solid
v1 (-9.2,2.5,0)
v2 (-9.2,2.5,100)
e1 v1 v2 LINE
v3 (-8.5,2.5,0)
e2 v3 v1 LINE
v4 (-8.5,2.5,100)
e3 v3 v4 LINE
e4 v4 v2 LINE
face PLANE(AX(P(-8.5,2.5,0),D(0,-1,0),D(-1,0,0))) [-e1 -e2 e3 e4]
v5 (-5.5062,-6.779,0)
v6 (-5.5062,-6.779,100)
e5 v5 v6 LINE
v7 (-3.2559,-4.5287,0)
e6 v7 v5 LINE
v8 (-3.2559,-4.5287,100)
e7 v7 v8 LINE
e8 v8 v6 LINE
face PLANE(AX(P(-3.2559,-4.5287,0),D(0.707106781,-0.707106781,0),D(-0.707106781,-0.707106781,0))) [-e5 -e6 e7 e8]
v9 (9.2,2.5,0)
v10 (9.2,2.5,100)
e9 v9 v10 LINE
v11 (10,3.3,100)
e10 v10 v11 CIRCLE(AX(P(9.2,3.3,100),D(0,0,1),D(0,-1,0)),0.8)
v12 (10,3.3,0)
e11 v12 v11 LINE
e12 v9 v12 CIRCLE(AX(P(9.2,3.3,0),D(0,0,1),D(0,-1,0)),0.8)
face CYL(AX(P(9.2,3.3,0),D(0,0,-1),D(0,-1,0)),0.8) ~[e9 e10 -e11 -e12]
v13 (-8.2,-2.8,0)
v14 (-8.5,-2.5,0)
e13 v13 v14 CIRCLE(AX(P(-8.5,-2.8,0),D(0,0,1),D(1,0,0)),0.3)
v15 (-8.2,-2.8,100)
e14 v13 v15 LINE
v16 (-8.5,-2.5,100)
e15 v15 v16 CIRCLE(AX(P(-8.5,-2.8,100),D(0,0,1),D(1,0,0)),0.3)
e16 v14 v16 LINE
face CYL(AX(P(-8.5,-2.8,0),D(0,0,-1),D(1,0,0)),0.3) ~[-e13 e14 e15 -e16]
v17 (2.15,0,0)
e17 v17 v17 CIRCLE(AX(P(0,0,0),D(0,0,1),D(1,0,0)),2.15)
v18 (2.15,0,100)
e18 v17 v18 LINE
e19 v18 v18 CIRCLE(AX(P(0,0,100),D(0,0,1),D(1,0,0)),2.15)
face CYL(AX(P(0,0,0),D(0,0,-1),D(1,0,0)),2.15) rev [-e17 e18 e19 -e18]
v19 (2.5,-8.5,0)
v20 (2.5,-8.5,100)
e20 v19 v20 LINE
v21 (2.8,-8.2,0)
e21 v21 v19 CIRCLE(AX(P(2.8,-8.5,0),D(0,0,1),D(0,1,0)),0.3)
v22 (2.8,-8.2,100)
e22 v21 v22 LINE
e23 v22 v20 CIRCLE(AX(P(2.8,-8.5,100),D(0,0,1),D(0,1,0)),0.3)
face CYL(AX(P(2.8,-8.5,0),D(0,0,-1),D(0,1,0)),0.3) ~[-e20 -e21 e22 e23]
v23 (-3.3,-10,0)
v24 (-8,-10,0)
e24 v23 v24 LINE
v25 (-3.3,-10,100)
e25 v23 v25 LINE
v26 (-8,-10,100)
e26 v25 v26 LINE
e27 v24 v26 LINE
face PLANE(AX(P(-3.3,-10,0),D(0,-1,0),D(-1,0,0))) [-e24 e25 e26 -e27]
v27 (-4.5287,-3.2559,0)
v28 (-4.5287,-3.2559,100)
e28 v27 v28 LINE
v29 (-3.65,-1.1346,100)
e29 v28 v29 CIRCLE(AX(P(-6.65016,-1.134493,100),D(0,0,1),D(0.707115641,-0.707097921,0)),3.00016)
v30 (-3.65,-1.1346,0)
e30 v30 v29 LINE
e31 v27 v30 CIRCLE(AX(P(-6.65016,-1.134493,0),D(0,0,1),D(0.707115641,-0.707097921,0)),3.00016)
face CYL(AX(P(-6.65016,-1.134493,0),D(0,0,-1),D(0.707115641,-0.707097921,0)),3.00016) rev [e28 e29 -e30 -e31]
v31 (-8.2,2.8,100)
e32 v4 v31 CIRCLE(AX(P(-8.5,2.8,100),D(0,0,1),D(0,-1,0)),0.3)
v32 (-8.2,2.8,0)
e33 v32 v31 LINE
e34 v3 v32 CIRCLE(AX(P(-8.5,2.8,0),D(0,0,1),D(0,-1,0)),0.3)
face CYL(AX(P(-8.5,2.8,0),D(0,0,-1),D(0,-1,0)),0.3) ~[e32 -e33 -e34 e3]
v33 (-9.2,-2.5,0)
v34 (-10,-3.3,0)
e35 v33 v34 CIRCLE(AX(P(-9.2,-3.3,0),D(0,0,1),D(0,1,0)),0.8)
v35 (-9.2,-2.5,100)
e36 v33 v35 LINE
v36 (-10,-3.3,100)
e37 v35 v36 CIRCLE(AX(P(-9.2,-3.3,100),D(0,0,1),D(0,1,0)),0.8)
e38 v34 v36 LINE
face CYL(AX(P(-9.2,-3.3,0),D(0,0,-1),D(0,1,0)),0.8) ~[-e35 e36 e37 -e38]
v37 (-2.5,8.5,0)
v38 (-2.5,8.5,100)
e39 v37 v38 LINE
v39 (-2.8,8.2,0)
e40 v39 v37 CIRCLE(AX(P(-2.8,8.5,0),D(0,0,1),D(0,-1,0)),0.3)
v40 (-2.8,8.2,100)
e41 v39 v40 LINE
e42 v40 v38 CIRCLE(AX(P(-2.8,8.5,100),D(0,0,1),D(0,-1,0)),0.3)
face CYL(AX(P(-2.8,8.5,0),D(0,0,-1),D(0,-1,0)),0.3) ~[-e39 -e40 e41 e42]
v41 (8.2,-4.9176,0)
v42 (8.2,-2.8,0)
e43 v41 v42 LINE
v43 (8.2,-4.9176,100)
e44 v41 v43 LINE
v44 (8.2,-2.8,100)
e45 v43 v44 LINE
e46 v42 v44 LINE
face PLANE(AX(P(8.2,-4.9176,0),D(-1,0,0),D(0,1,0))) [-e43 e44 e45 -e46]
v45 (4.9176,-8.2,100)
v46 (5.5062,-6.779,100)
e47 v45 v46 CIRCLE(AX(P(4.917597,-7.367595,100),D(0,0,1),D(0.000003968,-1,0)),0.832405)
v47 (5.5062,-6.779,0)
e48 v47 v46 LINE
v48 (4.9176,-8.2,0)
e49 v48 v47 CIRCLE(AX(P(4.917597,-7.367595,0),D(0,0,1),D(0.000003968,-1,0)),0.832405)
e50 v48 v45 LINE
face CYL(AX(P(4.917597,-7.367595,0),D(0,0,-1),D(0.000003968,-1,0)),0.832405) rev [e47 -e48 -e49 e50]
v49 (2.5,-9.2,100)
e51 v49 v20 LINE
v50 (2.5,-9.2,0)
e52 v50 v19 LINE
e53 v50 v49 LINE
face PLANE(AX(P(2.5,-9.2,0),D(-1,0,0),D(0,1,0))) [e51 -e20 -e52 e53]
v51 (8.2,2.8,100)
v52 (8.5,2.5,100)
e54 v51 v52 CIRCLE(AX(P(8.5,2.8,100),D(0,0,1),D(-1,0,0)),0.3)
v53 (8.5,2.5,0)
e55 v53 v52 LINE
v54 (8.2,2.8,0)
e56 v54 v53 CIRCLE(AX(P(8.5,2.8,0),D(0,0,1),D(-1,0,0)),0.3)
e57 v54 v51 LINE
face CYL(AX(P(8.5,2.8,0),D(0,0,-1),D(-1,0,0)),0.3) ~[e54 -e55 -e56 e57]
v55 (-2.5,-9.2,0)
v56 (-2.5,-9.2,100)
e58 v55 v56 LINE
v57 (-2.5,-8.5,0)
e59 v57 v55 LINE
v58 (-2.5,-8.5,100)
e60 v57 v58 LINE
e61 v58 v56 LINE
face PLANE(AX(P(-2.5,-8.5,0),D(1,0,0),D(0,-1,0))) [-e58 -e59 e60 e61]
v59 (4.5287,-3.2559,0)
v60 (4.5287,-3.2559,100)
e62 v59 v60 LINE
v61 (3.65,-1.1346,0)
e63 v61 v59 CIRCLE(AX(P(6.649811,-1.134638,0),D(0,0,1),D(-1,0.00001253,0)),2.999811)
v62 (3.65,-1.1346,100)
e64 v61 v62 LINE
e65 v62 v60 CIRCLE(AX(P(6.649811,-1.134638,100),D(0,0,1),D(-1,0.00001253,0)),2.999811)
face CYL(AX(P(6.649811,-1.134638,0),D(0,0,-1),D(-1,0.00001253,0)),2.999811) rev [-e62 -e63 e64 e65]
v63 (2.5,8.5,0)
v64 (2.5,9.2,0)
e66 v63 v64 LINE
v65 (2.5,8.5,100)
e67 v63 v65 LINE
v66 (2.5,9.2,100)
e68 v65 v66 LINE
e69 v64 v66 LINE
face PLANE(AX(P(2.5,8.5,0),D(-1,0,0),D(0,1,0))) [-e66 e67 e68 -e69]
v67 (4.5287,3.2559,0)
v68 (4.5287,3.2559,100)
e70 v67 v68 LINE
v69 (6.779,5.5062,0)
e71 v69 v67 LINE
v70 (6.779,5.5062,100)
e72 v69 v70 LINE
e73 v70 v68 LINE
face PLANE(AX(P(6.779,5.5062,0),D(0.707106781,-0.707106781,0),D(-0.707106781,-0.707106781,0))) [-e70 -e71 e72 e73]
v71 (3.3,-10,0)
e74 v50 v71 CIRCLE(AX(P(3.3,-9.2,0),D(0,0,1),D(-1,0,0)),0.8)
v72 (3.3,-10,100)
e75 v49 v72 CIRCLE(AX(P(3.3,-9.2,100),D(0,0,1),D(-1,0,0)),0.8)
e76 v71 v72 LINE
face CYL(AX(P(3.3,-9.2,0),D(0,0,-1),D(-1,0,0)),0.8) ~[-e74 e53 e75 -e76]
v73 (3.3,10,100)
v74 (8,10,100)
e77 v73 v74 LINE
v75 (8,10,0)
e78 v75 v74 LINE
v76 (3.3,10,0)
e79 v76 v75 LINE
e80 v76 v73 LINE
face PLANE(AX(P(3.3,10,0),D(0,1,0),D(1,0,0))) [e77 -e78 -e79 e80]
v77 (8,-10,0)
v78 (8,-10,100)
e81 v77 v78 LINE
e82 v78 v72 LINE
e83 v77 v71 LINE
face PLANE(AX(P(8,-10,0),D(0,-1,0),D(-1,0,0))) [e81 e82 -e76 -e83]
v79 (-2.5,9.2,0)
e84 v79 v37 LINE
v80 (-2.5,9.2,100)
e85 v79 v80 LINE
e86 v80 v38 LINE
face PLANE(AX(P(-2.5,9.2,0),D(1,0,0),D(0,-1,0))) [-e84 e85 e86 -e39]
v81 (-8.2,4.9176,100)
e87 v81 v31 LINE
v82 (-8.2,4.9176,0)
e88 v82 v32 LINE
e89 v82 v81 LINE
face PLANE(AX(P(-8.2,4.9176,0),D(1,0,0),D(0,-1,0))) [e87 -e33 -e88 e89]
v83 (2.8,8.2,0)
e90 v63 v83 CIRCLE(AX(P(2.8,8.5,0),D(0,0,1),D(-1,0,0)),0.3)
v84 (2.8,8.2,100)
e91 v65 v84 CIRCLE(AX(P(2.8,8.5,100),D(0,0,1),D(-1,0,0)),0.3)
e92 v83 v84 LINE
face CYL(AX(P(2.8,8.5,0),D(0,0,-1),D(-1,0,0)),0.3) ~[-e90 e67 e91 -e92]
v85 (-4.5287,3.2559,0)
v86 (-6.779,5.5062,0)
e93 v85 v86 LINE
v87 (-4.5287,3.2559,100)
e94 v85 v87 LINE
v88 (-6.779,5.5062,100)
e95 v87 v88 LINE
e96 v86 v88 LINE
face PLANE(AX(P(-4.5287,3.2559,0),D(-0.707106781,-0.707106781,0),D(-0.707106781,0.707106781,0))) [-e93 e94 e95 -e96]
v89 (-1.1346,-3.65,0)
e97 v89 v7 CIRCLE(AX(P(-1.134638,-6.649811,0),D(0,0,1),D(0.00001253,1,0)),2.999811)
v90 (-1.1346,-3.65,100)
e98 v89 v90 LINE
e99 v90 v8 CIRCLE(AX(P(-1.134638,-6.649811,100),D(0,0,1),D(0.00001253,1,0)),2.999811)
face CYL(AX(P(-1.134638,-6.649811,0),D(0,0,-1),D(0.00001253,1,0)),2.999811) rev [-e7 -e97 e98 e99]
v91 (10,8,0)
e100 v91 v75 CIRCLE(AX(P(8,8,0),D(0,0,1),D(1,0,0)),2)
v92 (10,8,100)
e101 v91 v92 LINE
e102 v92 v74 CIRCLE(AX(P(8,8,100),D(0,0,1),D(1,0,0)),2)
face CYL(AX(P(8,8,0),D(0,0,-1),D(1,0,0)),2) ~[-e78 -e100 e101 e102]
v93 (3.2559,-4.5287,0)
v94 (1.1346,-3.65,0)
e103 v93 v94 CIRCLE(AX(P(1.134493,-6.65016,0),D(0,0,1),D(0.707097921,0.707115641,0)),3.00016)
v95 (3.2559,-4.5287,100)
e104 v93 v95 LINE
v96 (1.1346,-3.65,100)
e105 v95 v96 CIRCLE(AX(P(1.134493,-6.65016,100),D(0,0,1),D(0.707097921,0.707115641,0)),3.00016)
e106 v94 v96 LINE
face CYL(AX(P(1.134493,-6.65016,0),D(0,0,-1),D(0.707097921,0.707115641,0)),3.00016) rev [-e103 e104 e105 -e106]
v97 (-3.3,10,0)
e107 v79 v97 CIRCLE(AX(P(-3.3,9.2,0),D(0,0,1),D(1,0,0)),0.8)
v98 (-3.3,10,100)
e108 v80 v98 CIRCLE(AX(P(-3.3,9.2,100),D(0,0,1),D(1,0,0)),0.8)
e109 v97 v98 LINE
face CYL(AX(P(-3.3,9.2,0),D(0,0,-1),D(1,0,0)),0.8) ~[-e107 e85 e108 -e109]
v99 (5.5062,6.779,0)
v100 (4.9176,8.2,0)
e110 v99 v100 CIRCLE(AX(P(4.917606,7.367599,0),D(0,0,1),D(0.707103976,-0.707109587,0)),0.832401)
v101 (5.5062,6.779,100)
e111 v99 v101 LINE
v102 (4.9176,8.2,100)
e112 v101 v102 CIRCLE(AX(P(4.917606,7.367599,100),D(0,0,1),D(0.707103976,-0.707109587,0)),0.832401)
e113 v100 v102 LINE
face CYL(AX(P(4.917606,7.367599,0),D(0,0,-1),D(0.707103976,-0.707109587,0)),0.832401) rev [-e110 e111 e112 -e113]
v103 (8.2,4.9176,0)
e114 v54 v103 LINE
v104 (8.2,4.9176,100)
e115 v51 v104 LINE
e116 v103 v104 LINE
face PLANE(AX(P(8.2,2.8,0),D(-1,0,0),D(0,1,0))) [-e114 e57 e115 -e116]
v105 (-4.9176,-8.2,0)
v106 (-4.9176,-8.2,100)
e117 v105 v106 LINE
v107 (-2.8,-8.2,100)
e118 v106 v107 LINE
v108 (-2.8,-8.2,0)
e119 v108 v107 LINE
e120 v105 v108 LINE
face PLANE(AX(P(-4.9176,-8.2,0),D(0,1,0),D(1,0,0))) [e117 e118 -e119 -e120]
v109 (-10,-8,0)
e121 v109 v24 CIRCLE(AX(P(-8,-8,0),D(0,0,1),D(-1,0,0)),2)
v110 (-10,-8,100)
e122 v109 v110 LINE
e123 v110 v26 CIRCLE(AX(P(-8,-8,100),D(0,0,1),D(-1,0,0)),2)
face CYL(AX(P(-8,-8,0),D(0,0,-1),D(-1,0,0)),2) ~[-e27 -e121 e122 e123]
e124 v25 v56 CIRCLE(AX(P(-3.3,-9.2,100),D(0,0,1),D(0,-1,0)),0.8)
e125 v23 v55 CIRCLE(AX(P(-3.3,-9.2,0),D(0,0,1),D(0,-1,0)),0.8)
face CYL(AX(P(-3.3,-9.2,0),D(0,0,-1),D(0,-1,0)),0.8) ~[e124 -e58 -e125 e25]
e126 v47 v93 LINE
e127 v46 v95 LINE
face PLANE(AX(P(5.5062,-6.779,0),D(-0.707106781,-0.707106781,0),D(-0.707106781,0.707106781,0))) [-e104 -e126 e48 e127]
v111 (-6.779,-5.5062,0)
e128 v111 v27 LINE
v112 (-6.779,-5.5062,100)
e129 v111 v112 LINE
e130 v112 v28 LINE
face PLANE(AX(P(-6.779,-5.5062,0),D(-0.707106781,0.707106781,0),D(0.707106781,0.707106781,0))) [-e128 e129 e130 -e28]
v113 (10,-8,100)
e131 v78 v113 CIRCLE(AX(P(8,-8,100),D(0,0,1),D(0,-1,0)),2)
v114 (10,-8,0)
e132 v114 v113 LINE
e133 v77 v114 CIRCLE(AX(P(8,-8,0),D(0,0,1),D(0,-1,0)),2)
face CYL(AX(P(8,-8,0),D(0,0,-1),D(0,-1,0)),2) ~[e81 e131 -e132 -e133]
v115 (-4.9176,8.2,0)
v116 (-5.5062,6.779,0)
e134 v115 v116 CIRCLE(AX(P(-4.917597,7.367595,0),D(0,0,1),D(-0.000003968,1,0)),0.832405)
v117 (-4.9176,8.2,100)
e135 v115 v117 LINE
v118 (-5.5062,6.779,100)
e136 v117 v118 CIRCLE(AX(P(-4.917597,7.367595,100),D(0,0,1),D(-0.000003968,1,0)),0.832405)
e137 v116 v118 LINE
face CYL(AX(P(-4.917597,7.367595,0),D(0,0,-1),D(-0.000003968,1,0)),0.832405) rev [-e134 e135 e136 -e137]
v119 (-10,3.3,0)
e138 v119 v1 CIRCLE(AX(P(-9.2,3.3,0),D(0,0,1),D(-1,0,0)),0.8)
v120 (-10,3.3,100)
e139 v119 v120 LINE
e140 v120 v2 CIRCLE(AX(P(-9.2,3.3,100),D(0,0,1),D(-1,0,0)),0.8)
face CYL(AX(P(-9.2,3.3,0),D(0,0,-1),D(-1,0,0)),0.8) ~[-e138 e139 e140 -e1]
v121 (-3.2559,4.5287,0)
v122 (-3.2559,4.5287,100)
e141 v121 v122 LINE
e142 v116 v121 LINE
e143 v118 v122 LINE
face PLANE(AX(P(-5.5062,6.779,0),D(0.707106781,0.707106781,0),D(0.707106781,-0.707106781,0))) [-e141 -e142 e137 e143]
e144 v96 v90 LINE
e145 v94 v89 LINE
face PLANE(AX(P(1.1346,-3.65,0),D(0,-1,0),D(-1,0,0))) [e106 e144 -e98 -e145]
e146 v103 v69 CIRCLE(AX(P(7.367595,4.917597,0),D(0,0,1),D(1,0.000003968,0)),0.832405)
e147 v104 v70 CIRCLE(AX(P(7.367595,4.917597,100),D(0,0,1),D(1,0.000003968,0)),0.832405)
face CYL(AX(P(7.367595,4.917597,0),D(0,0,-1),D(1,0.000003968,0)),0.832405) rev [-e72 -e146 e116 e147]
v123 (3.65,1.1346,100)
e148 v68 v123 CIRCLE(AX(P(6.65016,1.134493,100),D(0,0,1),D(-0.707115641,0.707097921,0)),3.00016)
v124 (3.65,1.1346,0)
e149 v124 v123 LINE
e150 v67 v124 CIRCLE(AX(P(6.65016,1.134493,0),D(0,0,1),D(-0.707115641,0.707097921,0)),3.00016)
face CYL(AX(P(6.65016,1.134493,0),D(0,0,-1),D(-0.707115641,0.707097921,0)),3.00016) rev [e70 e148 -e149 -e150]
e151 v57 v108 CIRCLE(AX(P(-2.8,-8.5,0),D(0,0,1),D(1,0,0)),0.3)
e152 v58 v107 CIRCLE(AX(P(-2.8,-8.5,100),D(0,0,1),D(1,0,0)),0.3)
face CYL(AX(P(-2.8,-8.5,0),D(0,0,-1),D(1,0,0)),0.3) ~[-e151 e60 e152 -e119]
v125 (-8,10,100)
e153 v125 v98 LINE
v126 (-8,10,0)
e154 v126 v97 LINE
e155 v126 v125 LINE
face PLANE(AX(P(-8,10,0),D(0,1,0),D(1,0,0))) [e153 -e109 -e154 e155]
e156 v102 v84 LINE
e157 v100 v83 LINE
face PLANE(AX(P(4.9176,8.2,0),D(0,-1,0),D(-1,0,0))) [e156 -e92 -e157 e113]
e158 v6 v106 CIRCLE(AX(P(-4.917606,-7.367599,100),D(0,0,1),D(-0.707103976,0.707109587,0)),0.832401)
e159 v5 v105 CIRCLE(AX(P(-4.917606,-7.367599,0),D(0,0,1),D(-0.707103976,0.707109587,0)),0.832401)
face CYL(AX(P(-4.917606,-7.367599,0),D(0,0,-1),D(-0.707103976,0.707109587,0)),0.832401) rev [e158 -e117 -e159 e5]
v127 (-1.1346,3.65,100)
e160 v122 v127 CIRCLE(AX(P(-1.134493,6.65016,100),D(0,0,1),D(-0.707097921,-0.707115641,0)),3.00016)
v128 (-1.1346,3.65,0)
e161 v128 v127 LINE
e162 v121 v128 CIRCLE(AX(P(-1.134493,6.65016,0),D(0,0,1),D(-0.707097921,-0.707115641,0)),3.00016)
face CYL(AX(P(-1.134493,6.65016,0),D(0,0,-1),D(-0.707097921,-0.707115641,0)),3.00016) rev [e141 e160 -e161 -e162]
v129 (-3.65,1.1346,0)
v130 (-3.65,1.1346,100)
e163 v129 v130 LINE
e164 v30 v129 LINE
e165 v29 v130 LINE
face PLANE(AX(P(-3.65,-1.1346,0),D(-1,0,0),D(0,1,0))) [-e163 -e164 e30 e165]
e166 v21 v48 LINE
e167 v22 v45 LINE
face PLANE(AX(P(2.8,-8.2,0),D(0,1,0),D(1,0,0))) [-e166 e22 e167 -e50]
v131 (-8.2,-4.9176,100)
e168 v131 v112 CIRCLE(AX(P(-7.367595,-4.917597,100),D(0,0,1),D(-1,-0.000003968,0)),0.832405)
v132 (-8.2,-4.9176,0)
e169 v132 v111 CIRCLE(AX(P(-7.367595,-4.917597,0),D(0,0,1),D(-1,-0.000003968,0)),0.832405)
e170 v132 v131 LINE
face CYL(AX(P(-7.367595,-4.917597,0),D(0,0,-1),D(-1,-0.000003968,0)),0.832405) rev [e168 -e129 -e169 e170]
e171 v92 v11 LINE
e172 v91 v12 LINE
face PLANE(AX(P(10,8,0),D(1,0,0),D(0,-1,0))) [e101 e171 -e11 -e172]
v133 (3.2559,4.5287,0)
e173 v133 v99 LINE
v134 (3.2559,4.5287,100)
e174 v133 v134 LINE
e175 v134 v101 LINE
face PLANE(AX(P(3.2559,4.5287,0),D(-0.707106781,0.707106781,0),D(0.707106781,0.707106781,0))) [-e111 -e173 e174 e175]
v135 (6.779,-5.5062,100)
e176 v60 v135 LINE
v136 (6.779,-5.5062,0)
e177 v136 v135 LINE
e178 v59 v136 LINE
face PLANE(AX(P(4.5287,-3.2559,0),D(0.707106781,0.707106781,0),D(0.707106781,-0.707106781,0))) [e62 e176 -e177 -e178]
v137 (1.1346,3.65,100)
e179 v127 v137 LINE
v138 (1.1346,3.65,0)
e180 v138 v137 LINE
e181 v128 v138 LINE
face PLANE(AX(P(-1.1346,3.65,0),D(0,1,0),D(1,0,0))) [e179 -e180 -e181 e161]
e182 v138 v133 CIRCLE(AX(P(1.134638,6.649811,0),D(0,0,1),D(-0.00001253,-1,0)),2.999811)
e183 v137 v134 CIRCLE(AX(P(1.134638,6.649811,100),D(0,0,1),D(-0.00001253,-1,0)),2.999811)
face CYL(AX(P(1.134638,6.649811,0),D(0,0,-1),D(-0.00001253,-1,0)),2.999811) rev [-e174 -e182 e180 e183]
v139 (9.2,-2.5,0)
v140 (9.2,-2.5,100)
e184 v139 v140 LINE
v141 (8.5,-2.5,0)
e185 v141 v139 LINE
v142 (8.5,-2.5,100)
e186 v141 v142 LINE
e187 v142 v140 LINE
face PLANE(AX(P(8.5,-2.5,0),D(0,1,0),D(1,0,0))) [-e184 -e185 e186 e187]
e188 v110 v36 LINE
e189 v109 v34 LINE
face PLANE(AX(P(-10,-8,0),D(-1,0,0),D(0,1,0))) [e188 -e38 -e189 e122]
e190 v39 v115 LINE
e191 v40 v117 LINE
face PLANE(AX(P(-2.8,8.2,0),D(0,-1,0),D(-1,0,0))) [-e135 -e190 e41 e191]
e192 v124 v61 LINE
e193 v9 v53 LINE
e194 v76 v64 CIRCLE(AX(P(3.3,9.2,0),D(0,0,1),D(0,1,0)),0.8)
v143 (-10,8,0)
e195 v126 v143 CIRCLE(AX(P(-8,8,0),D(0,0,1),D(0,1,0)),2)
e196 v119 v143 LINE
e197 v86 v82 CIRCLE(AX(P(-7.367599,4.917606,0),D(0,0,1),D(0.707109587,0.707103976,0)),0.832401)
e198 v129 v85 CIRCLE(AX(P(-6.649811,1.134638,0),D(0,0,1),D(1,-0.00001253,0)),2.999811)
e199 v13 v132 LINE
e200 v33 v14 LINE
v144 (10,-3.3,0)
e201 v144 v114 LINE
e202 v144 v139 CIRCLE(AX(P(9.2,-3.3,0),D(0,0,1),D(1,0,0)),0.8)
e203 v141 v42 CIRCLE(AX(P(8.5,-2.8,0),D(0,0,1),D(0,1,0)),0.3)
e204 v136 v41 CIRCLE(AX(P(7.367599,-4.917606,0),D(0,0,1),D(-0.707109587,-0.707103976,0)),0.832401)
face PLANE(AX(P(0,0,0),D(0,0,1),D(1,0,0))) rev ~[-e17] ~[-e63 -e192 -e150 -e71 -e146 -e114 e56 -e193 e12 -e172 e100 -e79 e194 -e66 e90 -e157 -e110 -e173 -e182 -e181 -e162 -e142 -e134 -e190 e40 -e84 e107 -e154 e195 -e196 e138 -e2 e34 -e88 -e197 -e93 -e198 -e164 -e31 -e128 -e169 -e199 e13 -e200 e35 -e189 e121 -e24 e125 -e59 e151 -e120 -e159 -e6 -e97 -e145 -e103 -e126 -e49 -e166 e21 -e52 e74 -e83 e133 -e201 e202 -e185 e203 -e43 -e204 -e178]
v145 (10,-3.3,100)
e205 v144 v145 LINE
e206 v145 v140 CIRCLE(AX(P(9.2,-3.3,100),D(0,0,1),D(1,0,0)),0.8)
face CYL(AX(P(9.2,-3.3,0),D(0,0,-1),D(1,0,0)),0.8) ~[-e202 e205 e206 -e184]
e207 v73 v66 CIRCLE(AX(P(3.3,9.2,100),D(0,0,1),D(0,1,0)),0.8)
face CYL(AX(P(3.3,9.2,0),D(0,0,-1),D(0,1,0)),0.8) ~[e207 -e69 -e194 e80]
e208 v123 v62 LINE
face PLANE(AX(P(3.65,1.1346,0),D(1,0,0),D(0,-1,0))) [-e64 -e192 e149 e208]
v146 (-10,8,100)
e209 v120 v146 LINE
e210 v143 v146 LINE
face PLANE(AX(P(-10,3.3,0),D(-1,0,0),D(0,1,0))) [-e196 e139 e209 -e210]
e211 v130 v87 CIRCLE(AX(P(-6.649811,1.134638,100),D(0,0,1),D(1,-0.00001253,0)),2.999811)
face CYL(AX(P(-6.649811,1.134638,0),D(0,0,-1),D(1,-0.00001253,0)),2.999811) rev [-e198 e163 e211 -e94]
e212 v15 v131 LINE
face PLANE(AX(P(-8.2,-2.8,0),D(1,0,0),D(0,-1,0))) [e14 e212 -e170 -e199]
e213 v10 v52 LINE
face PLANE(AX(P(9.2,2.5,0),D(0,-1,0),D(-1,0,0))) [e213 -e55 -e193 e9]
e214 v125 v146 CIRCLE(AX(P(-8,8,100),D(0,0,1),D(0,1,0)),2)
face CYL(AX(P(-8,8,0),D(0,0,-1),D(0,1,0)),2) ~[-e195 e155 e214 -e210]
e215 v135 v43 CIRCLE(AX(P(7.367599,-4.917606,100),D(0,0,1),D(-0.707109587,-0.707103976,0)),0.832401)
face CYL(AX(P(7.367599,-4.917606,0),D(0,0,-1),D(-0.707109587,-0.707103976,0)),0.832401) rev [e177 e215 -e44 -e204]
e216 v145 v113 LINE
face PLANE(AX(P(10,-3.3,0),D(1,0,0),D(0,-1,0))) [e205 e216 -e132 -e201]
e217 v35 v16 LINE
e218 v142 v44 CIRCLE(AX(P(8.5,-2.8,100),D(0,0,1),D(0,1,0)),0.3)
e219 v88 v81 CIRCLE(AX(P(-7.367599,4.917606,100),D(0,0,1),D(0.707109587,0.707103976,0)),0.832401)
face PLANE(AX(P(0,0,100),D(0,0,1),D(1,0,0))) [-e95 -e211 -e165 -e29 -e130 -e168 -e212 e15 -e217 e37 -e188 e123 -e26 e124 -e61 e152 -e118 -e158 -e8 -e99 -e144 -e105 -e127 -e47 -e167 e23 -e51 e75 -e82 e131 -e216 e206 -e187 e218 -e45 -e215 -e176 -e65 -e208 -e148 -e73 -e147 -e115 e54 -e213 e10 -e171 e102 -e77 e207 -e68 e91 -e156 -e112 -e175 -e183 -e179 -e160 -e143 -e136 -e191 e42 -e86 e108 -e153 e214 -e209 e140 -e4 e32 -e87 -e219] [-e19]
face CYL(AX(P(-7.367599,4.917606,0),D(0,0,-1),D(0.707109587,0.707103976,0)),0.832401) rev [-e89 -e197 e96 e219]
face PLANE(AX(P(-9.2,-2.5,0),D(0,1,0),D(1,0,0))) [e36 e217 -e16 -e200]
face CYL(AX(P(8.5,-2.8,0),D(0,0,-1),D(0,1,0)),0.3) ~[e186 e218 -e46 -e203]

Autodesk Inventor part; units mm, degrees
ref_plane "YZ Plane" through (0, 0, 0) normal (1, 0, 0) x (0, 1, 0)
ref_plane "Startebene" through (0, 0, 0) normal (0, 0, 1) x (1, 0, 0)
ref_plane "Endebene" through (0, 0, 100) normal (0, 0, 1) x (1, 0, 0)
sketch "Skizze" plane through (0, 0, 0) normal (0, 0, 1) x (1, 0, 0)
  arc A0 (-4.5287, -3.2559) -> (-3.65, -1.1346) centre (-6.65, -1.1346) ccw
  line L0 (-3.65, -1.1346) -> (-3.65, 1.1346)
  circle A1 centre (0, 0) radius 2.15
  line L1 (1.1346, -3.65) -> (-1.1346, -3.65)
  arc A2 (-1.1346, -3.65) -> (-3.2559, -4.5287) centre (-1.1346, -6.65) ccw
  line L2 (-6.779, -5.5062) -> (-4.5287, -3.2559)
  line L3 (-3.2559, -4.5287) -> (-5.5062, -6.779)
  arc A3 (-2.5, -8.5) -> (-2.8, -8.2) centre (-2.8, -8.5) ccw
  line L4 (-2.5, -8.5) -> (-2.5, -9.2)
  line L5 (-4.9176, -8.2) -> (-2.8, -8.2)
  arc A4 (-5.5062, -6.779) -> (-4.9176, -8.2) centre (-4.9176, -7.3676) ccw
  arc A5 (-3.3, -10) -> (-2.5, -9.2) centre (-3.3, -9.2) ccw
  line L6 (-3.3, -10) -> (-8, -10)
  line L7 (10, -3.3) -> (10, -8)
  line L8 (5.5062, -6.779) -> (3.2559, -4.5287)
  arc A6 (6.779, -5.5062) -> (8.2, -4.9176) centre (7.3676, -4.9176) ccw
  arc A7 (3.2559, -4.5287) -> (1.1346, -3.65) centre (1.1346, -6.65) ccw
  line L9 (4.5287, -3.2559) -> (6.779, -5.5062)
  arc A8 (3.65, -1.1346) -> (4.5287, -3.2559) centre (6.65, -1.1346) ccw
  arc A9 (8.5, -2.5) -> (8.2, -2.8) centre (8.5, -2.8) ccw
  line L10 (3.65, 1.1346) -> (3.65, -1.1346)
  line L11 (8.5, -2.5) -> (9.2, -2.5)
  arc A10 (10, -3.3) -> (9.2, -2.5) centre (9.2, -3.3) ccw
  line L12 (8.2, -4.9176) -> (8.2, -2.8)
  line L13 (2.5, 8.5) -> (2.5, 9.2)
  arc A11 (2.5, 8.5) -> (2.8, 8.2) centre (2.8, 8.5) ccw
  arc A12 (1.1346, 3.65) -> (3.2559, 4.5287) centre (1.1346, 6.65) ccw
  line L14 (-1.1346, 3.65) -> (1.1346, 3.65)
  arc A13 (3.3, 10) -> (2.5, 9.2) centre (3.3, 9.2) ccw
  line L15 (4.9176, 8.2) -> (2.8, 8.2)
  arc A14 (4.5287, 3.2559) -> (3.65, 1.1346) centre (6.65, 1.1346) ccw
  line L16 (3.2559, 4.5287) -> (5.5062, 6.779)
  arc A15 (5.5062, 6.779) -> (4.9176, 8.2) centre (4.9176, 7.3676) ccw
  line L17 (6.779, 5.5062) -> (4.5287, 3.2559)
  line L18 (3.3, 10) -> (8, 10)
  arc A16 (10, 8) -> (8, 10) centre (8, 8) ccw
  line L19 (8.2, 2.8) -> (8.2, 4.9176)
  line L20 (10, 8) -> (10, 3.3)
  arc A17 (8.2, 4.9176) -> (6.779, 5.5062) centre (7.3676, 4.9176) ccw
  line L21 (-2.8, 8.2) -> (-4.9176, 8.2)
  line L22 (-2.5, 9.2) -> (-2.5, 8.5)
  arc A18 (-2.5, 9.2) -> (-3.3, 10) centre (-3.3, 9.2) ccw
  arc A19 (-2.8, 8.2) -> (-2.5, 8.5) centre (-2.8, 8.5) ccw
  arc A20 (-3.65, 1.1346) -> (-4.5287, 3.2559) centre (-6.65, 1.1346) ccw
  arc A21 (-3.2559, 4.5287) -> (-1.1346, 3.65) centre (-1.1346, 6.65) ccw
  arc A22 (4.9176, -8.2) -> (5.5062, -6.779) centre (4.9176, -7.3676) ccw
  arc A23 (8, -10) -> (10, -8) centre (8, -8) ccw
  line L23 (2.8, -8.2) -> (4.9176, -8.2)
  line L24 (8, -10) -> (3.3, -10)
  arc A24 (2.8, -8.2) -> (2.5, -8.5) centre (2.8, -8.5) ccw
  arc A25 (2.5, -9.2) -> (3.3, -10) centre (3.3, -9.2) ccw
  line L25 (2.5, -9.2) -> (2.5, -8.5)
  arc A26 (8.2, 2.8) -> (8.5, 2.5) centre (8.5, 2.8) ccw
  line L26 (9.2, 2.5) -> (8.5, 2.5)
  arc A27 (9.2, 2.5) -> (10, 3.3) centre (9.2, 3.3) ccw
  arc A28 (-4.9176, 8.2) -> (-5.5062, 6.779) centre (-4.9176, 7.3676) ccw
  line L27 (-8, 10) -> (-3.3, 10)
  line L28 (-5.5062, 6.779) -> (-3.2559, 4.5287)
  arc A29 (-8, 10) -> (-10, 8) centre (-8, 8) ccw
  arc A30 (-6.779, 5.5062) -> (-8.2, 4.9176) centre (-7.3676, 4.9176) ccw
  line L29 (-10, 3.3) -> (-10, 8)
  line L30 (-8.2, 4.9176) -> (-8.2, 2.8)
  arc A31 (-8.5, 2.5) -> (-8.2, 2.8) centre (-8.5, 2.8) ccw
  line L31 (-8.5, 2.5) -> (-9.2, 2.5)
  arc A32 (-10, 3.3) -> (-9.2, 2.5) centre (-9.2, 3.3) ccw
  line L32 (-4.5287, 3.2559) -> (-6.779, 5.5062)
  line L33 (-10, -8) -> (-10, -3.3)
  arc A33 (-8.2, -4.9176) -> (-6.779, -5.5062) centre (-7.3676, -4.9176) ccw
  arc A34 (-10, -8) -> (-8, -10) centre (-8, -8) ccw
  line L34 (-10, -8) -> (-10, -3.3)
  arc A35 (-8.2, -2.8) -> (-8.5, -2.5) centre (-8.5, -2.8) ccw
  line L35 (-9.2, -2.5) -> (-8.5, -2.5)
  arc A36 (-9.2, -2.5) -> (-10, -3.3) centre (-9.2, -3.3) ccw
  line L36 (-8.2, -2.8) -> (-8.2, -4.9176)
  dimension "d4" = 4.3
  dimension "d5" = 6.35
  dimension "d6" = 10
  dimension "d7" = 2.5
  dimension "d8" = 5.8
  dimension "d9" = 10.5
  dimension "d10" = 3
  dimension "d11" = 7.5
  dimension "d12" = 12.5
  dimension "d13" = 13.65
  dimension "d14" = 5.7
  dimension "d15" = 10.7
  dimension "d16" = 1.15
  dimension "d17" = 6.15
  dimension "d18" = 1.8
  dimension "d19" = 0.8
  dimension "d20" = 0.3
  dimension "d21" = 2
  dimension "d22" = 0.8324
  dimension "d23" = 45
  dimension "d24" = 90
  dimension "d25" = 90
  dimension "d26" = 1.8
  dimension "d27" = 18.2
  dimension "d28" = 20
  dimension "d29" = 5
  dimension "d30" = 7.5
  dimension "d31" = 1.8
  dimension "d32" = 0.9
  dimension "d33" = 0.9
  dimension "d34" = 20
extrude "Körper" add sketch "Skizze" along normal up to surface (100 mm away) from surface at 0
sketch "Skizze6" plane through (0, 0, 0) normal (0, 0, 1) x (1, 0, 0)
  line L0 (0, 0) -> (10, 0)
ref_plane "Arbeitsebene4" through (0, 0, 0) normal (0, -1, 0) x (1, 0, 0)
sketch "Skizze7" plane through (0, 0, 0) normal (0, -1, 0) x (1, 0, 0)
  line L0 (-2, 0) -> (12, 0)
  line L1 (-2, 100) -> (12, 100)
  dimension "d43" = 100
equation "\"G_OFFSET_START\" = 0"
equation "\"G_OFFSET_END\" = 0"
equation "\"G_L\" = d43"
properties part number "BT001_trajan20_22"
